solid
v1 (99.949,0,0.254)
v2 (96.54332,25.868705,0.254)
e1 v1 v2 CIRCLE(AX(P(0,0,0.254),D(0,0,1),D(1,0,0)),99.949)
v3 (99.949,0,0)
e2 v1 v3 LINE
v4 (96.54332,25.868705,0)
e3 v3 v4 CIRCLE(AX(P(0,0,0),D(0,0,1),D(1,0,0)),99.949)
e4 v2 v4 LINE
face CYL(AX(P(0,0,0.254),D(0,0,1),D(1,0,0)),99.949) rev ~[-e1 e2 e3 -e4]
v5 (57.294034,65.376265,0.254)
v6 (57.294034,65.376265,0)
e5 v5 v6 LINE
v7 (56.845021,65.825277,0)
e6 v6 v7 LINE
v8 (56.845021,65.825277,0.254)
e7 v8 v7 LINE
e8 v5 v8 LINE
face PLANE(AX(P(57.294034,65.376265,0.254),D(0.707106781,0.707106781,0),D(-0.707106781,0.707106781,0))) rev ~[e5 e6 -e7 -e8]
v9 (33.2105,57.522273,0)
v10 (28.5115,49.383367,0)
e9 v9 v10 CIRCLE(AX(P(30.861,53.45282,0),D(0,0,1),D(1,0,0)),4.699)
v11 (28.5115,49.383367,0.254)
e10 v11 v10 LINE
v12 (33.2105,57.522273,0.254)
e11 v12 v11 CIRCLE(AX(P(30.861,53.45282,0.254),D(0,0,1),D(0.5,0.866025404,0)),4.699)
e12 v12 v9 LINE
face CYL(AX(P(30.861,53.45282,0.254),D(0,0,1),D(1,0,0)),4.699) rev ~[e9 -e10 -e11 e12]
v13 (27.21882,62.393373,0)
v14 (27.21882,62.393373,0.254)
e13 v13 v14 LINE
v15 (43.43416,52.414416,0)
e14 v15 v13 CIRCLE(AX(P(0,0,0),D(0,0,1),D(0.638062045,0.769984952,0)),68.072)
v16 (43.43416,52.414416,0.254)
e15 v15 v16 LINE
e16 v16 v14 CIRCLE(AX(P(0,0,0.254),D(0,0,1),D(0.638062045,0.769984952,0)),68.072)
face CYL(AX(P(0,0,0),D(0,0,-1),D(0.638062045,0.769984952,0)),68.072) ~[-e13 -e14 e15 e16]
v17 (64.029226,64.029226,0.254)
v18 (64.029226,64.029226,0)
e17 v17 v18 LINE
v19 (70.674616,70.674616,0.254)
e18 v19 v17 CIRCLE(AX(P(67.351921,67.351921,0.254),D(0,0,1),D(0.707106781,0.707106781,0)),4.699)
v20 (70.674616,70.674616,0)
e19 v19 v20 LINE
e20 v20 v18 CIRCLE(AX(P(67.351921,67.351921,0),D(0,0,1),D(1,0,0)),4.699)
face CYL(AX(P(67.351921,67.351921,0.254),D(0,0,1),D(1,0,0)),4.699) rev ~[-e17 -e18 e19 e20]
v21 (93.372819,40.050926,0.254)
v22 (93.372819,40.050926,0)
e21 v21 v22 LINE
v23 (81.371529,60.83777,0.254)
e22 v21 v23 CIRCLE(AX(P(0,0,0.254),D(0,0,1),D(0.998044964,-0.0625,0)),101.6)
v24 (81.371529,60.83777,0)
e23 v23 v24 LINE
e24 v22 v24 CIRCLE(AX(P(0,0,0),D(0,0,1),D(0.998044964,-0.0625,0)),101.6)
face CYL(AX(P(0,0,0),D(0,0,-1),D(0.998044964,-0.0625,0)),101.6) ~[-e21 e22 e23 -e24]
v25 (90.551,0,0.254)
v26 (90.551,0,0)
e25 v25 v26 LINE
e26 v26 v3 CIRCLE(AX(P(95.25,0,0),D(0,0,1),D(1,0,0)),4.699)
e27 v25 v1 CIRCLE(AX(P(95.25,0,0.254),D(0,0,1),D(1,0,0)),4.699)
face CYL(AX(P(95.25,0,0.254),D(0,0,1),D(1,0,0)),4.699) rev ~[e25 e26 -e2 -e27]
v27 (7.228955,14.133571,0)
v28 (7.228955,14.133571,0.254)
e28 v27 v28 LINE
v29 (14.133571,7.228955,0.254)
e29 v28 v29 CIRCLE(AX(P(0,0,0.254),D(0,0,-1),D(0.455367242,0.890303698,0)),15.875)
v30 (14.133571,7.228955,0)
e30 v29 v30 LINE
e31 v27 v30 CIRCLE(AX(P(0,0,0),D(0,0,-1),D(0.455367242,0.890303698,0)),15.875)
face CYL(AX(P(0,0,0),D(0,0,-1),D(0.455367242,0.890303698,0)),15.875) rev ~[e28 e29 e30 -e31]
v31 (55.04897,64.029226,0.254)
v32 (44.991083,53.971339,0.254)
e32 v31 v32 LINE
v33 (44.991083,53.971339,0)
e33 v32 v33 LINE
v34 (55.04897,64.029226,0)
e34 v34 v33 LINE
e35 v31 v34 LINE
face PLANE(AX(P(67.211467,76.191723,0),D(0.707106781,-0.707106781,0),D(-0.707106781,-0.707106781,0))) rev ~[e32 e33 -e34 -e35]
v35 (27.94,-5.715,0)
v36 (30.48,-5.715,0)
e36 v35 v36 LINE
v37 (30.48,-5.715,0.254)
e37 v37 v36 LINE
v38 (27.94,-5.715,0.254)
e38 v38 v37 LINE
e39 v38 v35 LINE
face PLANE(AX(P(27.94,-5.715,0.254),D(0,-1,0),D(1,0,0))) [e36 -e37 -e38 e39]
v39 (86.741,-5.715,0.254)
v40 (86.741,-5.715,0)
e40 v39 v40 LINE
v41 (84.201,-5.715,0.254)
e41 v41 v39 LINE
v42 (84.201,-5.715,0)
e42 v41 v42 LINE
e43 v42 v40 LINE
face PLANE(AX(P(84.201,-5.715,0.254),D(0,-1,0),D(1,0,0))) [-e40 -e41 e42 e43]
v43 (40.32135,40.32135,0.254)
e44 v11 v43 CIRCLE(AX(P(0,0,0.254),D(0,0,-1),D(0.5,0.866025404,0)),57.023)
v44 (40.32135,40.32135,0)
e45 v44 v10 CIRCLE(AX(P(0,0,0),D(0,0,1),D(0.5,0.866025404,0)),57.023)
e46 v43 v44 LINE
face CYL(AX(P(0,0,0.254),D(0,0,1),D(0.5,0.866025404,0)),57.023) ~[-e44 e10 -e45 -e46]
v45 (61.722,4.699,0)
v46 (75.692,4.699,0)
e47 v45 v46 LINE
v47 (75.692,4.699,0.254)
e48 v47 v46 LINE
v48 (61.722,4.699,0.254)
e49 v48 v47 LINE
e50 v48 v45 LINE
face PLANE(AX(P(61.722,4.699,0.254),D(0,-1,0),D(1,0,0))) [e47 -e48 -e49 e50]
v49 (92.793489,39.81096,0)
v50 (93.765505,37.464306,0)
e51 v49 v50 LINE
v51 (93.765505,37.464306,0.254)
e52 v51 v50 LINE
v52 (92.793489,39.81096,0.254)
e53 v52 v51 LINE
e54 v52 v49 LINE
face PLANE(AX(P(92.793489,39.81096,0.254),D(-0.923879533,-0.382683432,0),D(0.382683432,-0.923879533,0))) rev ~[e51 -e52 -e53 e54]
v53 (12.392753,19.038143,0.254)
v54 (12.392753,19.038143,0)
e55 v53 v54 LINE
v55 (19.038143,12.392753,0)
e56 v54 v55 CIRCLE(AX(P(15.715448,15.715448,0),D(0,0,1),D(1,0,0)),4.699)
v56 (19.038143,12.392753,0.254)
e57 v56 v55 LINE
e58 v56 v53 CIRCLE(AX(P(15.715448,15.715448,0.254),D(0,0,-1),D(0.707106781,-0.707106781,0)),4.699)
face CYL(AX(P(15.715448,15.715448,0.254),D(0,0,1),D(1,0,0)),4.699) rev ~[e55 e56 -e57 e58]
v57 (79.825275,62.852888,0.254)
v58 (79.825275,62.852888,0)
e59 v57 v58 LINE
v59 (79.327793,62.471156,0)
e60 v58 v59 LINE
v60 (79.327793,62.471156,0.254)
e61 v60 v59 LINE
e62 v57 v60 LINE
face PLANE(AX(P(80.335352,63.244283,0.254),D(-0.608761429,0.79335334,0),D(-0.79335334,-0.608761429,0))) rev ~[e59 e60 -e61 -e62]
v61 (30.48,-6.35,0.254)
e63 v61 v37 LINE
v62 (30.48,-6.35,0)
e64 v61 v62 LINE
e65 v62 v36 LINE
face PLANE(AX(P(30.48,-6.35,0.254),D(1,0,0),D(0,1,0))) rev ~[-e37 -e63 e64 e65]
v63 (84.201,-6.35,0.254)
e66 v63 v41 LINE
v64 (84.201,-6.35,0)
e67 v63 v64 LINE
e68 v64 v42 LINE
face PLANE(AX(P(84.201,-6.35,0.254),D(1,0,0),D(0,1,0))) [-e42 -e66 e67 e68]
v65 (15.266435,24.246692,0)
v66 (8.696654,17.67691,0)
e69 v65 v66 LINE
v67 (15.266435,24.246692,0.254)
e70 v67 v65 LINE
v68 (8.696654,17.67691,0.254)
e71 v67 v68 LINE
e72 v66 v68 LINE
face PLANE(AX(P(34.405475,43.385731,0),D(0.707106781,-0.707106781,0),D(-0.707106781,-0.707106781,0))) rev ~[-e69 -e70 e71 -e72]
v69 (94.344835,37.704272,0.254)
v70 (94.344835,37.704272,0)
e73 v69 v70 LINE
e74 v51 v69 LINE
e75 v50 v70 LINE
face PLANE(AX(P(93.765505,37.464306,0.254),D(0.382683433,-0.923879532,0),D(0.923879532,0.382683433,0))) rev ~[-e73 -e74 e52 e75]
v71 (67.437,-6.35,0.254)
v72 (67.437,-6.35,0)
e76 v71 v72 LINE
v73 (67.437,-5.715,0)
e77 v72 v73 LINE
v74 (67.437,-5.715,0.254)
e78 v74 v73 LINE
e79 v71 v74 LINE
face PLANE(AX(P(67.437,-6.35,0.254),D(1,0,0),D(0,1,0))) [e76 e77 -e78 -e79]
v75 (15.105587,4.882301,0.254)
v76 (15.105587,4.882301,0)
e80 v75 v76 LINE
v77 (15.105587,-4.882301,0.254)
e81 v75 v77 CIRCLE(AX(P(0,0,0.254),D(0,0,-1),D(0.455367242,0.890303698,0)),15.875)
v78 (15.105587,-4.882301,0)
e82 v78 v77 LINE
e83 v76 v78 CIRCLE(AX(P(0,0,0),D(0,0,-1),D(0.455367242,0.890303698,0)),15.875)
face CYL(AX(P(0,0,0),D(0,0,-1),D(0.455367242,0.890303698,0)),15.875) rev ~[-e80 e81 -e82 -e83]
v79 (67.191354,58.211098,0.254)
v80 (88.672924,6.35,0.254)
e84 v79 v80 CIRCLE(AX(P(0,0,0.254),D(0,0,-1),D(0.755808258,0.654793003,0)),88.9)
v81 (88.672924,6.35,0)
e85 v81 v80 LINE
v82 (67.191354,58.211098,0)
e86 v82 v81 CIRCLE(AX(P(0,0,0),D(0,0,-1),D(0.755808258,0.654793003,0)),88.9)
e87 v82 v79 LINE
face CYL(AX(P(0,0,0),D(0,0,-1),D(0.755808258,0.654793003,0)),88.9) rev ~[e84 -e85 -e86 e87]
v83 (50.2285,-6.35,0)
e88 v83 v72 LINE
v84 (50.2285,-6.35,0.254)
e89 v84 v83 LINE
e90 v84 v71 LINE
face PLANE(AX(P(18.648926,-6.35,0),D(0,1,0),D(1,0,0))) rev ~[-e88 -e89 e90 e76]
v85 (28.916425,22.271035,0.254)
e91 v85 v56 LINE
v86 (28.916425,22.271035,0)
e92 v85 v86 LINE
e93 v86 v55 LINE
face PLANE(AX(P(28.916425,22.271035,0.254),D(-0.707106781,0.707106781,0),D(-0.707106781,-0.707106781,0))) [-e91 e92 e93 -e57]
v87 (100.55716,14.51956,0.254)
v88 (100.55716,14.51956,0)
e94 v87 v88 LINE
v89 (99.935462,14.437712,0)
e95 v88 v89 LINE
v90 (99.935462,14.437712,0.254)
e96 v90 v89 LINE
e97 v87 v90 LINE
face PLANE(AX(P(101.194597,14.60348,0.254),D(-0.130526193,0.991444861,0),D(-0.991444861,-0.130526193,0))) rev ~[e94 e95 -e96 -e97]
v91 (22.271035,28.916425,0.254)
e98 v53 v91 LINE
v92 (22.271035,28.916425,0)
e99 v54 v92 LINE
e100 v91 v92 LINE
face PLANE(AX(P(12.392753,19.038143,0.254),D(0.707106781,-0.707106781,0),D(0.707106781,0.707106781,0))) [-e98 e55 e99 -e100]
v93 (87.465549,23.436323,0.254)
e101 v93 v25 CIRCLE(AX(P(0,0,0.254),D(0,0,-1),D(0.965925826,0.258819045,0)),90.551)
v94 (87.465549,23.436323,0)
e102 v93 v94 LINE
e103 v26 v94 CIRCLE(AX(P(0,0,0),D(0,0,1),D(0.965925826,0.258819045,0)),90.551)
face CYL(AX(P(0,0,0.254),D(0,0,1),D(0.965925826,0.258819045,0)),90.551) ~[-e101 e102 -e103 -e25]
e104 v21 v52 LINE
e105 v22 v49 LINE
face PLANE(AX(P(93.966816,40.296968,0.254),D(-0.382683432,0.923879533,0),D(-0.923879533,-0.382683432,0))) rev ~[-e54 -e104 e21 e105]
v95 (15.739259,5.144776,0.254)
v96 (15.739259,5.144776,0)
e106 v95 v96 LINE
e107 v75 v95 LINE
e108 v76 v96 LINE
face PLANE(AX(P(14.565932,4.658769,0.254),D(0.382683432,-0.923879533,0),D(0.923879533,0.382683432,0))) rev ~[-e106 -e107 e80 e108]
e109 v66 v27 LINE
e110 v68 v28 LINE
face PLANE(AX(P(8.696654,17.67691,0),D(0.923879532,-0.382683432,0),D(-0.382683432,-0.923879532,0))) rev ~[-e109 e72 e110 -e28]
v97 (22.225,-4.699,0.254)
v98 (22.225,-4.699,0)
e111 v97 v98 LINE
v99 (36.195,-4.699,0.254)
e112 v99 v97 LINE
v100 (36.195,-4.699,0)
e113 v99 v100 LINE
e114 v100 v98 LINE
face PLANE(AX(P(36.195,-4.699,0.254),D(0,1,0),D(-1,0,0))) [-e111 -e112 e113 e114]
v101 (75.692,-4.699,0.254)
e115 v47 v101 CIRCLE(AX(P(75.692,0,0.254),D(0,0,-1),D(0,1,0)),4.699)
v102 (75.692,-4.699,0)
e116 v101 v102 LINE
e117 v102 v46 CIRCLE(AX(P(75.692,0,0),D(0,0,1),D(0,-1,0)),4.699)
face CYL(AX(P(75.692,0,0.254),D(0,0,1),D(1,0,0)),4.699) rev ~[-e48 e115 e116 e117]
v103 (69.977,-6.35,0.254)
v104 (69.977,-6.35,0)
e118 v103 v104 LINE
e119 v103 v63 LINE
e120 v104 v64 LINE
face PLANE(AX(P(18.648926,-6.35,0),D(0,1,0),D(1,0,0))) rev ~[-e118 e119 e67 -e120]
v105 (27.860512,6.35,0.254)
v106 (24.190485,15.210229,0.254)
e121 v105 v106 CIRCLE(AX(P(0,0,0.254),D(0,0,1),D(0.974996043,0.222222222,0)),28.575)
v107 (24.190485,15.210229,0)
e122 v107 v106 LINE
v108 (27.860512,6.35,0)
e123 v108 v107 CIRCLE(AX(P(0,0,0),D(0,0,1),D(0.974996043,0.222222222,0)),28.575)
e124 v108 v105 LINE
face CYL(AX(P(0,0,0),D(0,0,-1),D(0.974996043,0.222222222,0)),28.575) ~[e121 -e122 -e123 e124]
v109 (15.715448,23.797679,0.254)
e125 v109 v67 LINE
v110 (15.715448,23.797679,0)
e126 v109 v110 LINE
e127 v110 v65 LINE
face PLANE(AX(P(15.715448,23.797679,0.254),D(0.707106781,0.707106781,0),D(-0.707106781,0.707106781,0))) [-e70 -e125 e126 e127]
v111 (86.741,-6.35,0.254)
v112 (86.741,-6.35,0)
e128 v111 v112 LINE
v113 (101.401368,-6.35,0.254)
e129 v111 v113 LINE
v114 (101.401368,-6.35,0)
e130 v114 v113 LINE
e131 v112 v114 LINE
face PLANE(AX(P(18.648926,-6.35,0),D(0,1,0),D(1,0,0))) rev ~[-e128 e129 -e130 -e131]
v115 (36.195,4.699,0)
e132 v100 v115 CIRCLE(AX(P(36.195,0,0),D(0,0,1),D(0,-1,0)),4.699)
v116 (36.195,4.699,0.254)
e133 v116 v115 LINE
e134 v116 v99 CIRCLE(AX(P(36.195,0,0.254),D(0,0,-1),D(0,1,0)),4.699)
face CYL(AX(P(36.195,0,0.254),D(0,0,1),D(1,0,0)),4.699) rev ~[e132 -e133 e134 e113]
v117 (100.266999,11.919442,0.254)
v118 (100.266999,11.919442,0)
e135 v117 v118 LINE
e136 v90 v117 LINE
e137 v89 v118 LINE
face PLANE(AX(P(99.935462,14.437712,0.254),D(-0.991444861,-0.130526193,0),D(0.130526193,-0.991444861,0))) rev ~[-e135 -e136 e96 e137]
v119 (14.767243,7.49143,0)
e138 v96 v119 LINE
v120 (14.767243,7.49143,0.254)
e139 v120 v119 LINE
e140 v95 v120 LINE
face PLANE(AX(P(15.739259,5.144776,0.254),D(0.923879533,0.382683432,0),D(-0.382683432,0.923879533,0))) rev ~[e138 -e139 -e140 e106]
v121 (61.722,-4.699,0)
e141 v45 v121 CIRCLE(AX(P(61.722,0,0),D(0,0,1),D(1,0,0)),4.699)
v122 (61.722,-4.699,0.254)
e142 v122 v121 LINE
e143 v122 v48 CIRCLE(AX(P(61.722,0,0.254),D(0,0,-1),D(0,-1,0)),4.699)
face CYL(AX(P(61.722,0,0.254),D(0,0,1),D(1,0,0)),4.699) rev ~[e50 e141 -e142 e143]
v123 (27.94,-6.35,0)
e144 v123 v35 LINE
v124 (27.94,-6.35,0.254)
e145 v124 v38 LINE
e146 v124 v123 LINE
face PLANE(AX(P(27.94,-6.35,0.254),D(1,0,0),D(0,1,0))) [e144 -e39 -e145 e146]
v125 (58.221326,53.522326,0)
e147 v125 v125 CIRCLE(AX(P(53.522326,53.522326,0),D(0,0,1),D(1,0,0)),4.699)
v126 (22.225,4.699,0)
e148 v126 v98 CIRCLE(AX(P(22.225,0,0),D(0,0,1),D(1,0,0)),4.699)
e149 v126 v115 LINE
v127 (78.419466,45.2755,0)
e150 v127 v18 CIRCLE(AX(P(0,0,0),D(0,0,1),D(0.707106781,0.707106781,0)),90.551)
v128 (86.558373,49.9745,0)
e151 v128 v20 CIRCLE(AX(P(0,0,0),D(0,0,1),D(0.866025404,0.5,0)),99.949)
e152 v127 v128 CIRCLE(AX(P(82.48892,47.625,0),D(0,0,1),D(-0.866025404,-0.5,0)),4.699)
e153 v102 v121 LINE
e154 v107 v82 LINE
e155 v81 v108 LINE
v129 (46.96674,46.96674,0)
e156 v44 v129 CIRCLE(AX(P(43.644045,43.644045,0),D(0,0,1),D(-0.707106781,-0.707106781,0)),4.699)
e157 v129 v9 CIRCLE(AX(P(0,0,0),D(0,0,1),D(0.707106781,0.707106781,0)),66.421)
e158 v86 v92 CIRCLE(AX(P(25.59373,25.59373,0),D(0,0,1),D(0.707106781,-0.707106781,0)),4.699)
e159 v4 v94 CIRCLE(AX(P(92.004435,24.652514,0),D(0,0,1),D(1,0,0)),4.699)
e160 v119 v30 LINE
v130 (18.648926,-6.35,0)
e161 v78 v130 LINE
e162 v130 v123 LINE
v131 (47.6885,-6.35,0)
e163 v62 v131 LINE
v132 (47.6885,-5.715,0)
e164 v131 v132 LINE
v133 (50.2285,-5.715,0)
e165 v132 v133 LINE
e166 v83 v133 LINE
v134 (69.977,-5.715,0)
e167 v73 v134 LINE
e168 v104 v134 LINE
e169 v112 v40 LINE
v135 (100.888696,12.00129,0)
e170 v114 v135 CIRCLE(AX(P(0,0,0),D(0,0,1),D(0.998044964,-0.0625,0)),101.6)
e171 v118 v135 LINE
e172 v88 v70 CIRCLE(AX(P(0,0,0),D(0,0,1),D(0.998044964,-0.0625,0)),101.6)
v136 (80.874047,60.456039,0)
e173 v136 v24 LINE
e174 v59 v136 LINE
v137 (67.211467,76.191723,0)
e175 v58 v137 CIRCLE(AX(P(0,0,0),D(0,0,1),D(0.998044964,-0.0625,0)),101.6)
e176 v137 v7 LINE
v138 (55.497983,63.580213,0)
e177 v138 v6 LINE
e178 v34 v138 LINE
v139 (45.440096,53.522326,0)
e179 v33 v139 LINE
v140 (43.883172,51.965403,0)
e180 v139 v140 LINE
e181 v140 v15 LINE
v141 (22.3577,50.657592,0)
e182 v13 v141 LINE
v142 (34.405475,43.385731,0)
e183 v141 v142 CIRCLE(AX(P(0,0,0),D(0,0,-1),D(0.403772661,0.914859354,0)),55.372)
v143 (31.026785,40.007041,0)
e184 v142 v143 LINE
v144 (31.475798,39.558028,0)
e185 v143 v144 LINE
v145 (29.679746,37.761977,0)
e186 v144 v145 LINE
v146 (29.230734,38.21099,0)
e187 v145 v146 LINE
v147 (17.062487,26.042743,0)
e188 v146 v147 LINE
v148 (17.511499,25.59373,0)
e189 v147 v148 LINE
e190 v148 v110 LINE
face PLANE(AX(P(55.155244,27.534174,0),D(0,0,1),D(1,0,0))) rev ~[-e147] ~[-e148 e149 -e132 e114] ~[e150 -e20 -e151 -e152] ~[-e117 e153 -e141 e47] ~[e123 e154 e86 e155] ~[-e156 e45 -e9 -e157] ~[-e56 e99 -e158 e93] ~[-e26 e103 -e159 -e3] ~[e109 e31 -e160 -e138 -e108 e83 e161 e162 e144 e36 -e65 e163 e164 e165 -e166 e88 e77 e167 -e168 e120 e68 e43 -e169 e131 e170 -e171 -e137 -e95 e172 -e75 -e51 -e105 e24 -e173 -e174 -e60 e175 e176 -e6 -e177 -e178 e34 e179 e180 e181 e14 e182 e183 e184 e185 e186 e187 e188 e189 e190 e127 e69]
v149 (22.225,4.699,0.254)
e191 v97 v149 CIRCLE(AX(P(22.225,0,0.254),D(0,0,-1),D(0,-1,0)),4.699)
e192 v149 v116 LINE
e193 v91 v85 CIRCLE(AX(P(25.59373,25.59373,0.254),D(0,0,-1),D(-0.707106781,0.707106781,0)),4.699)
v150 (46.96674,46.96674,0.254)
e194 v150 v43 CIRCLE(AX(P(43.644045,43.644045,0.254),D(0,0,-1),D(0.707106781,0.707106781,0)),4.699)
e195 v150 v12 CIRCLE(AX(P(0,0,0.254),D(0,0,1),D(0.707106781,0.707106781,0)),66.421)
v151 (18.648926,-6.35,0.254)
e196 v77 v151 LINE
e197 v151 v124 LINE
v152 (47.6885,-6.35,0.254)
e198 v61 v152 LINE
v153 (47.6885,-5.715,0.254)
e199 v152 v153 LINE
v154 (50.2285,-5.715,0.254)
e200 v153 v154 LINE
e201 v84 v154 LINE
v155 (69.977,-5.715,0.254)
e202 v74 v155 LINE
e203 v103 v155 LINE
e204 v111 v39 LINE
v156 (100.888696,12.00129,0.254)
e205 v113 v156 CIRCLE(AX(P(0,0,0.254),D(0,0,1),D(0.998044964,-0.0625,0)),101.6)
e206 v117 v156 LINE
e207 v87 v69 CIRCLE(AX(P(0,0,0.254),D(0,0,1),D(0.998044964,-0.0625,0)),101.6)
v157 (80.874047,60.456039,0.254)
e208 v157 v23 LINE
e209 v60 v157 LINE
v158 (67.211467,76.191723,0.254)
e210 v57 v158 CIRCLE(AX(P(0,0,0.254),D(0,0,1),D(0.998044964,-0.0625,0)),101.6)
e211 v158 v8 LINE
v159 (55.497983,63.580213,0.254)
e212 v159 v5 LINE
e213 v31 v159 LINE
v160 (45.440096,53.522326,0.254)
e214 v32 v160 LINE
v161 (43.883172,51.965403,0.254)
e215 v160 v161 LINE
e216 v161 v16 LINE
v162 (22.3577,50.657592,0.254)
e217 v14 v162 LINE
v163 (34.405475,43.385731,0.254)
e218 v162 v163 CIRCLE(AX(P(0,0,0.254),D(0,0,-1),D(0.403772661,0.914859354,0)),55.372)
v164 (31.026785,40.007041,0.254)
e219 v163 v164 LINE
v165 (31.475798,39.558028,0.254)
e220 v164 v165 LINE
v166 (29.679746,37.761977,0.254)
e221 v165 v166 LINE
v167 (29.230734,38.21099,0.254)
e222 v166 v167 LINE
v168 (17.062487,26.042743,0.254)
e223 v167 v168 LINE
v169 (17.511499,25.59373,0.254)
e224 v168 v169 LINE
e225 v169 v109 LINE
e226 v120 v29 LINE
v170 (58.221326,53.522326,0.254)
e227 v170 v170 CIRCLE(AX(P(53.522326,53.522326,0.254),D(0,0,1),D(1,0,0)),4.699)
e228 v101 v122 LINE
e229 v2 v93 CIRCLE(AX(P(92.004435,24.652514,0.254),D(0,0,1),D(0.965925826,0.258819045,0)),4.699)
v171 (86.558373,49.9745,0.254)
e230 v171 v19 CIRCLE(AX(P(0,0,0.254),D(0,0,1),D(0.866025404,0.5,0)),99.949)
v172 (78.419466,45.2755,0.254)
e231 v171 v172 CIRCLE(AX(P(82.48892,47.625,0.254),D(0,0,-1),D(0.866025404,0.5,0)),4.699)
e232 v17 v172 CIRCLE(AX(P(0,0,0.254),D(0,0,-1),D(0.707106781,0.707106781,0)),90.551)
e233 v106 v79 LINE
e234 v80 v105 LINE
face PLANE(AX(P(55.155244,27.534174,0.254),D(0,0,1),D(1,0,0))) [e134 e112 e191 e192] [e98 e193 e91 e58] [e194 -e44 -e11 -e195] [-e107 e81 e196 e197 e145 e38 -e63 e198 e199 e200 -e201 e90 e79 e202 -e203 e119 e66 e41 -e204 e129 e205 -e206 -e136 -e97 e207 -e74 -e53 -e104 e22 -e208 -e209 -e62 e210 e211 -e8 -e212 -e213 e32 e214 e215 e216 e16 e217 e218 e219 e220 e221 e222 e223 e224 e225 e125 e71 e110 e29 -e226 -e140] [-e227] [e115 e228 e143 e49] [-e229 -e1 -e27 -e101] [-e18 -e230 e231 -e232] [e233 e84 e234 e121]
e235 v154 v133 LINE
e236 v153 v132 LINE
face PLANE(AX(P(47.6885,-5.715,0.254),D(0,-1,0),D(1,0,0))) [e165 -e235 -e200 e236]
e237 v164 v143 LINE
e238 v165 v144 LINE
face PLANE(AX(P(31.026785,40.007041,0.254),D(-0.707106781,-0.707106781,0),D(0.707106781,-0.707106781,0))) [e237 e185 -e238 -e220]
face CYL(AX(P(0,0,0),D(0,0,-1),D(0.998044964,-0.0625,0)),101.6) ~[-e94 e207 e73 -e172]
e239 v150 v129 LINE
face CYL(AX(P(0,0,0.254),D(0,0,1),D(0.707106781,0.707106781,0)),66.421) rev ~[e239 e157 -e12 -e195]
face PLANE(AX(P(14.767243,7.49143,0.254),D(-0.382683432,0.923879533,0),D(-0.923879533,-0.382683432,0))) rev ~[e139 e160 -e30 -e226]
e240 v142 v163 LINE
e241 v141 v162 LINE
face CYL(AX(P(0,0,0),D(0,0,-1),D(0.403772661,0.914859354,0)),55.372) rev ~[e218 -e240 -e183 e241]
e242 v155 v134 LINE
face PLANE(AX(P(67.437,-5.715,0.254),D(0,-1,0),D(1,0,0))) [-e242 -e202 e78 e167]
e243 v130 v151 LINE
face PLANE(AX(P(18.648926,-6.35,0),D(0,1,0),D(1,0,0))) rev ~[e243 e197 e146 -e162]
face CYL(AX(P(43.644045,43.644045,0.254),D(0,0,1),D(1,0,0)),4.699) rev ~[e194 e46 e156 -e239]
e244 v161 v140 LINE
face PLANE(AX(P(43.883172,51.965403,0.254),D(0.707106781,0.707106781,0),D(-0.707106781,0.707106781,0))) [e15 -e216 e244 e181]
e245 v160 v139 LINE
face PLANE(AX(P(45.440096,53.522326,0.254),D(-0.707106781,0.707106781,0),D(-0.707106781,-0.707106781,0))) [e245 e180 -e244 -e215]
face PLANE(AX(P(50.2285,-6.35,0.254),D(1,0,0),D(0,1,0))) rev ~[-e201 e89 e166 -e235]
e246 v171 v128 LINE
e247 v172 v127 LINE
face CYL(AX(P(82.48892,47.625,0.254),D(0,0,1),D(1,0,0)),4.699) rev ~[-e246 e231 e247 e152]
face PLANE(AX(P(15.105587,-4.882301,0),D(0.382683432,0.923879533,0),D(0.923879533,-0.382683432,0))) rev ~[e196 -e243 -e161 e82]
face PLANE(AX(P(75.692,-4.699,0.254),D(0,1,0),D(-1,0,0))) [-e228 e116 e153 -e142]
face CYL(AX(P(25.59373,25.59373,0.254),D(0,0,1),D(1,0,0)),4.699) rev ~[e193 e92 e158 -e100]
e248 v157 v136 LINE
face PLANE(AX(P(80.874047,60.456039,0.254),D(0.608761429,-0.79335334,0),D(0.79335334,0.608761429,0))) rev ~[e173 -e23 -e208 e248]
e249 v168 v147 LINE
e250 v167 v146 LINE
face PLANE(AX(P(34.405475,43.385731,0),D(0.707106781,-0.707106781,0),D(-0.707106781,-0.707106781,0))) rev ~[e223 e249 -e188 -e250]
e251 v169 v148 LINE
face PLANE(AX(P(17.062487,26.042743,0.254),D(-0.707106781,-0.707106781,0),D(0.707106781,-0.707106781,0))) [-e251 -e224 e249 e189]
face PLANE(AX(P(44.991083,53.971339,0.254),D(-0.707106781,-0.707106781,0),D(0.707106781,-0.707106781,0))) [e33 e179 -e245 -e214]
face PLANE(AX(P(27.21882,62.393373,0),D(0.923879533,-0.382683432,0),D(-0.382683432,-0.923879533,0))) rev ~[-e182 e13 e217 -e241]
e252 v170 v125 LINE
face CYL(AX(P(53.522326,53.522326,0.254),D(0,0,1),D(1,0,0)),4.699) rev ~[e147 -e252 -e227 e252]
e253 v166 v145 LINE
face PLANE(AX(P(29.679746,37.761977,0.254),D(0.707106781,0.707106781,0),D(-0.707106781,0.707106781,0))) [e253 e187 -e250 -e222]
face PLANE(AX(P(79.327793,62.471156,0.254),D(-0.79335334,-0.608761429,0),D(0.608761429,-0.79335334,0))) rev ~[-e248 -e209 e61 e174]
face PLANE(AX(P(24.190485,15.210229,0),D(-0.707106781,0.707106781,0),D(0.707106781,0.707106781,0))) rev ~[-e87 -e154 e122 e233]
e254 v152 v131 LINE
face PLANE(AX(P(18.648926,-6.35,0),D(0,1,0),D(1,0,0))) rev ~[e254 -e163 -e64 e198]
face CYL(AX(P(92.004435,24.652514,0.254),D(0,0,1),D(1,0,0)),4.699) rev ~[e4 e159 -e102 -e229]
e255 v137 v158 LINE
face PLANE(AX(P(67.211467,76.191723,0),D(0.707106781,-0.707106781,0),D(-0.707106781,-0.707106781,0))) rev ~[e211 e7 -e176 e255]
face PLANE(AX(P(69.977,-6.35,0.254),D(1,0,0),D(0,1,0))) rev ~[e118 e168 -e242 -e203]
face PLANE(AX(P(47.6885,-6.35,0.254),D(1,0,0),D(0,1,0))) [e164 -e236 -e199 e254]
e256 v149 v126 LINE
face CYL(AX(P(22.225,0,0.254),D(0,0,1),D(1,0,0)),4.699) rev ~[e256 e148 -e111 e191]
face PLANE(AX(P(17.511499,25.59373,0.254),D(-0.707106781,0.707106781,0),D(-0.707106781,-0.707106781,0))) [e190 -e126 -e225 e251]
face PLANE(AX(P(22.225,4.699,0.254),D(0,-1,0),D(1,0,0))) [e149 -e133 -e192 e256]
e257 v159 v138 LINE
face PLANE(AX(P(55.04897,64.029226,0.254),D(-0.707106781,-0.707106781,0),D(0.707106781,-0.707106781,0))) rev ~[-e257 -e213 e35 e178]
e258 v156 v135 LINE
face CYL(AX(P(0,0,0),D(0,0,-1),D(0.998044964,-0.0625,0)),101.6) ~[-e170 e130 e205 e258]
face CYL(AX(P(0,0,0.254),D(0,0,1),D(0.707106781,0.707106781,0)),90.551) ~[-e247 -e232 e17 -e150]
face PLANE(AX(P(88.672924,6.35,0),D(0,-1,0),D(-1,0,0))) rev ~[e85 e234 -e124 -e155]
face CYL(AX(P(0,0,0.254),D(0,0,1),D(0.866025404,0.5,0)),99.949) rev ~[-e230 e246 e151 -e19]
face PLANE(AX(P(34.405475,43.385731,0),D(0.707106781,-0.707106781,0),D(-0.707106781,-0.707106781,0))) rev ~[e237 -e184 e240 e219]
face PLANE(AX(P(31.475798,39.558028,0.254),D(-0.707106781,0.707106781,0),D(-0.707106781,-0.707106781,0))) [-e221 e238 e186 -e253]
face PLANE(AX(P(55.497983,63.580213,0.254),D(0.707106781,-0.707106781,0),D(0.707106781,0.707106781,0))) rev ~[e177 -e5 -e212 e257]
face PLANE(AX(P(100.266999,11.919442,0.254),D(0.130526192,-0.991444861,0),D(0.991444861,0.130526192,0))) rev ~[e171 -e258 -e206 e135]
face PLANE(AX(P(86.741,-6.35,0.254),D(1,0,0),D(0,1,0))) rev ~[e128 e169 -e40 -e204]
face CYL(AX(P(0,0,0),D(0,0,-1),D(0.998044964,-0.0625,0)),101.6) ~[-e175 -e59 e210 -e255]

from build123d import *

# Parameters (mm, degrees)
BOSS_EXTRUDE1_DEPTH = 0.254
SKETCH2_R           = 4.699
CUT_EXTRUDE1_DEPTH  = 1.254
SKETCH3_W           = 2.54
SKETCH3_H           = 0.635
CUT_EXTRUDE2_DEPTH  = 1.254
CUT_EXTRUDE3_DEPTH  = 1.254


with BuildPart() as part:
    # Sketch1 → Boss-Extrude1 (new body)
    with BuildSketch(Plane.XY):
        with BuildLine():
            Line((27.218819563, 62.393373411), (22.357699804, 50.65759216))
            ThreePointArc((22.357699804, 50.65759216), (28.61353693, 47.405947816), (34.405475059, 43.38573118))
            Line((34.405475059, 43.38573118), (8.696654013, 17.676910134))
            Line((8.696654013, 17.676910134), (7.228954972, 14.133571205))
            ThreePointArc((7.228954972, 14.133571205), (14.666587579, 6.075099489), (15.105587123, -4.88230096))
            Line((15.105587123, -4.88230096), (18.648926052, -6.35))
            Line((18.648926052, -6.35), (101.401368334, -6.35))
            ThreePointArc((101.401368334, -6.35), (93.866160503, 38.880636728), (67.21146711, 76.191723231))
            Line((67.21146711, 76.191723231), (43.43415954, 52.414415661))
            ThreePointArc((43.43415954, 52.414415661), (35.677104191, 57.973626939), (27.218819563, 62.393373411))
        make_face()
        with BuildLine():
            Line((88.672924278, 6.35), (27.86051193, 6.35))
            ThreePointArc((27.86051193, 6.35), (26.399857642, 10.93517908), (24.190484974, 15.210228852))
            Line((24.190484974, 15.210228852), (67.191354125, 58.211098004))
            ThreePointArc((67.191354125, 58.211098004), (82.13289044, 34.020557137), (88.672924278, 6.35))
        make_face(mode=Mode.SUBTRACT)
    extrude(amount=BOSS_EXTRUDE1_DEPTH)

    # Sketch2 → Cut-Extrude1 (cut, through all)
    with BuildSketch(Plane.XY.offset(0.254)):
        with Locations((22.225, 0)):
            Circle(SKETCH2_R)
        with Locations((36.195, 0)):
            Circle(SKETCH2_R)
        with Locations((61.722, 0)):
            Circle(SKETCH2_R)
        with Locations((75.692, 0)):
            Circle(SKETCH2_R)
        with Locations((95.25, 0)):
            Circle(SKETCH2_R)
        with Locations((15.715448212, 15.715448212)):
            Circle(SKETCH2_R)
        with Locations((25.593729945, 25.593729945)):
            Circle(SKETCH2_R)
        with Locations((43.644044748, 43.644044748)):
            Circle(SKETCH2_R)
        with Locations((53.522326482, 53.522326482)):
            Circle(SKETCH2_R)
        with Locations((92.004434954, 24.652514046)):
            Circle(SKETCH2_R)
        with Locations((82.48891971, 47.625)):
            Circle(SKETCH2_R)
        with Locations((67.351920908, 67.351920908)):
            Circle(SKETCH2_R)
        with Locations((30.861, 53.452819972)):
            Circle(SKETCH2_R)
    extrude(amount=-CUT_EXTRUDE1_DEPTH, mode=Mode.SUBTRACT)

    # Sketch3 → Cut-Extrude2 (cut, through all)
    with BuildSketch(Plane.XY.offset(0.254)):
        Polygon((15.266435406, 24.246691527), (17.06248663, 26.042742751), (17.511499436, 25.593729945), (15.715448212, 23.797678721), align=None)
        Polygon((43.43415954, 52.414415661), (44.991083167, 53.971339288), (45.440095973, 53.522326482), (43.883172346, 51.965402855), align=None)
        with Locations((29.21, -6.0325)):
            Rectangle(SKETCH3_W, SKETCH3_H)
        with Locations((68.707, -6.0325)):
            Rectangle(SKETCH3_W, SKETCH3_H)
        Polygon((29.230733674, 38.210989795), (31.026784898, 40.007041019), (31.475797704, 39.558028213), (29.67974648, 37.761976989), align=None)
        Polygon((56.845021246, 65.825277367), (55.048970022, 64.029226143), (55.497982828, 63.580213337), (57.294034052, 65.376264561), align=None)
        with Locations((48.9585, -6.0325)):
            Rectangle(SKETCH3_W, SKETCH3_H)
        with Locations((85.471, -6.0325)):
            Rectangle(SKETCH3_W, SKETCH3_H)
        Polygon((99.935462164, 14.437711971), (100.266998693, 11.919442024), (101.526133667, 12.085210288), (101.194597138, 14.603480236), align=None)
        Polygon((93.765504959, 37.464305742), (94.938831965, 37.950313702), (93.966816047, 40.296967714), (92.793489041, 39.810959755), align=None)
        Polygon((79.327792988, 62.471156422), (80.874047017, 60.456038938), (81.88160576, 61.229165953), (80.33535173, 63.244283437), align=None)
        Polygon((13.593916116, 7.005422516), (14.565932035, 4.658768503), (15.739259041, 5.144776462), (14.767243123, 7.491430475), align=None)
    extrude(amount=-CUT_EXTRUDE2_DEPTH, mode=Mode.SUBTRACT)

    # Sketch7 → Cut-Extrude3 (cut, through all)
    with BuildSketch(Plane.XY.offset(0.254)):
        with BuildLine():
            Line((12.392753447, 19.038142977), (22.27103518, 28.91642471))
            ThreePointArc((22.27103518, 28.91642471), (28.91642471, 28.91642471), (28.91642471, 22.27103518))
            Line((28.91642471, 22.27103518), (19.038142977, 12.392753447))
            ThreePointArc((19.038142977, 12.392753447), (12.392753447, 12.392753447), (12.392753447, 19.038142977))
        make_face()
        with BuildLine():
            Line((22.225, 4.699), (36.195, 4.699))
            ThreePointArc((36.195, 4.699), (40.894, 0), (36.195, -4.699))
            Line((36.195, -4.699), (22.225, -4.699))
            ThreePointArc((22.225, -4.699), (17.526, 0), (22.225, 4.699))
        make_face()
        with BuildLine():
            Line((61.722, 4.699), (75.692, 4.699))
            ThreePointArc((75.692, 4.699), (80.391, 0), (75.692, -4.699))
            Line((75.692, -4.699), (61.722, -4.699))
            ThreePointArc((61.722, -4.699), (57.023, 0), (61.722, 4.699))
        make_face()
        with BuildLine():
            ThreePointArc((46.966739513, 46.966739513), (40.434542876, 52.695322215), (33.2105, 57.522273345))
            ThreePointArc((33.2105, 57.522273345), (26.791546628, 55.802319972), (28.5115, 49.3833666))
            ThreePointArc((28.5115, 49.3833666), (34.713402966, 45.239387523), (40.321349984, 40.321349984))
            ThreePointArc((40.321349984, 40.321349984), (46.966739513, 40.321349984), (46.966739513, 46.966739513))
        make_face()
        with BuildLine():
            ThreePointArc((99.949, 0), (99.093922449, 13.045962386), (96.543320412, 25.868704739))
            ThreePointArc((96.543320412, 25.868704739), (90.788244261, 29.191399504), (87.465549496, 23.436323353))
            ThreePointArc((87.465549496, 23.436323353), (89.776323642, 11.819277232), (90.551, 0))
            ThreePointArc((90.551, 0), (95.25, -4.699), (99.949, 0))
        make_face()
        with BuildLine():
            ThreePointArc((86.558373083, 49.9745), (79.294873009, 60.845096068), (70.674615673, 70.674615673))
            ThreePointArc((70.674615673, 70.674615673), (64.029226143, 70.674615673), (64.029226143, 64.029226143))
            ThreePointArc((64.029226143, 64.029226143), (71.838938317, 55.123956158), (78.419466338, 45.2755))
            ThreePointArc((78.419466338, 45.2755), (84.83841971, 43.555546628), (86.558373083, 49.9745))
        make_face()
    extrude(amount=-CUT_EXTRUDE3_DEPTH, mode=Mode.SUBTRACT)


solid = part.part
